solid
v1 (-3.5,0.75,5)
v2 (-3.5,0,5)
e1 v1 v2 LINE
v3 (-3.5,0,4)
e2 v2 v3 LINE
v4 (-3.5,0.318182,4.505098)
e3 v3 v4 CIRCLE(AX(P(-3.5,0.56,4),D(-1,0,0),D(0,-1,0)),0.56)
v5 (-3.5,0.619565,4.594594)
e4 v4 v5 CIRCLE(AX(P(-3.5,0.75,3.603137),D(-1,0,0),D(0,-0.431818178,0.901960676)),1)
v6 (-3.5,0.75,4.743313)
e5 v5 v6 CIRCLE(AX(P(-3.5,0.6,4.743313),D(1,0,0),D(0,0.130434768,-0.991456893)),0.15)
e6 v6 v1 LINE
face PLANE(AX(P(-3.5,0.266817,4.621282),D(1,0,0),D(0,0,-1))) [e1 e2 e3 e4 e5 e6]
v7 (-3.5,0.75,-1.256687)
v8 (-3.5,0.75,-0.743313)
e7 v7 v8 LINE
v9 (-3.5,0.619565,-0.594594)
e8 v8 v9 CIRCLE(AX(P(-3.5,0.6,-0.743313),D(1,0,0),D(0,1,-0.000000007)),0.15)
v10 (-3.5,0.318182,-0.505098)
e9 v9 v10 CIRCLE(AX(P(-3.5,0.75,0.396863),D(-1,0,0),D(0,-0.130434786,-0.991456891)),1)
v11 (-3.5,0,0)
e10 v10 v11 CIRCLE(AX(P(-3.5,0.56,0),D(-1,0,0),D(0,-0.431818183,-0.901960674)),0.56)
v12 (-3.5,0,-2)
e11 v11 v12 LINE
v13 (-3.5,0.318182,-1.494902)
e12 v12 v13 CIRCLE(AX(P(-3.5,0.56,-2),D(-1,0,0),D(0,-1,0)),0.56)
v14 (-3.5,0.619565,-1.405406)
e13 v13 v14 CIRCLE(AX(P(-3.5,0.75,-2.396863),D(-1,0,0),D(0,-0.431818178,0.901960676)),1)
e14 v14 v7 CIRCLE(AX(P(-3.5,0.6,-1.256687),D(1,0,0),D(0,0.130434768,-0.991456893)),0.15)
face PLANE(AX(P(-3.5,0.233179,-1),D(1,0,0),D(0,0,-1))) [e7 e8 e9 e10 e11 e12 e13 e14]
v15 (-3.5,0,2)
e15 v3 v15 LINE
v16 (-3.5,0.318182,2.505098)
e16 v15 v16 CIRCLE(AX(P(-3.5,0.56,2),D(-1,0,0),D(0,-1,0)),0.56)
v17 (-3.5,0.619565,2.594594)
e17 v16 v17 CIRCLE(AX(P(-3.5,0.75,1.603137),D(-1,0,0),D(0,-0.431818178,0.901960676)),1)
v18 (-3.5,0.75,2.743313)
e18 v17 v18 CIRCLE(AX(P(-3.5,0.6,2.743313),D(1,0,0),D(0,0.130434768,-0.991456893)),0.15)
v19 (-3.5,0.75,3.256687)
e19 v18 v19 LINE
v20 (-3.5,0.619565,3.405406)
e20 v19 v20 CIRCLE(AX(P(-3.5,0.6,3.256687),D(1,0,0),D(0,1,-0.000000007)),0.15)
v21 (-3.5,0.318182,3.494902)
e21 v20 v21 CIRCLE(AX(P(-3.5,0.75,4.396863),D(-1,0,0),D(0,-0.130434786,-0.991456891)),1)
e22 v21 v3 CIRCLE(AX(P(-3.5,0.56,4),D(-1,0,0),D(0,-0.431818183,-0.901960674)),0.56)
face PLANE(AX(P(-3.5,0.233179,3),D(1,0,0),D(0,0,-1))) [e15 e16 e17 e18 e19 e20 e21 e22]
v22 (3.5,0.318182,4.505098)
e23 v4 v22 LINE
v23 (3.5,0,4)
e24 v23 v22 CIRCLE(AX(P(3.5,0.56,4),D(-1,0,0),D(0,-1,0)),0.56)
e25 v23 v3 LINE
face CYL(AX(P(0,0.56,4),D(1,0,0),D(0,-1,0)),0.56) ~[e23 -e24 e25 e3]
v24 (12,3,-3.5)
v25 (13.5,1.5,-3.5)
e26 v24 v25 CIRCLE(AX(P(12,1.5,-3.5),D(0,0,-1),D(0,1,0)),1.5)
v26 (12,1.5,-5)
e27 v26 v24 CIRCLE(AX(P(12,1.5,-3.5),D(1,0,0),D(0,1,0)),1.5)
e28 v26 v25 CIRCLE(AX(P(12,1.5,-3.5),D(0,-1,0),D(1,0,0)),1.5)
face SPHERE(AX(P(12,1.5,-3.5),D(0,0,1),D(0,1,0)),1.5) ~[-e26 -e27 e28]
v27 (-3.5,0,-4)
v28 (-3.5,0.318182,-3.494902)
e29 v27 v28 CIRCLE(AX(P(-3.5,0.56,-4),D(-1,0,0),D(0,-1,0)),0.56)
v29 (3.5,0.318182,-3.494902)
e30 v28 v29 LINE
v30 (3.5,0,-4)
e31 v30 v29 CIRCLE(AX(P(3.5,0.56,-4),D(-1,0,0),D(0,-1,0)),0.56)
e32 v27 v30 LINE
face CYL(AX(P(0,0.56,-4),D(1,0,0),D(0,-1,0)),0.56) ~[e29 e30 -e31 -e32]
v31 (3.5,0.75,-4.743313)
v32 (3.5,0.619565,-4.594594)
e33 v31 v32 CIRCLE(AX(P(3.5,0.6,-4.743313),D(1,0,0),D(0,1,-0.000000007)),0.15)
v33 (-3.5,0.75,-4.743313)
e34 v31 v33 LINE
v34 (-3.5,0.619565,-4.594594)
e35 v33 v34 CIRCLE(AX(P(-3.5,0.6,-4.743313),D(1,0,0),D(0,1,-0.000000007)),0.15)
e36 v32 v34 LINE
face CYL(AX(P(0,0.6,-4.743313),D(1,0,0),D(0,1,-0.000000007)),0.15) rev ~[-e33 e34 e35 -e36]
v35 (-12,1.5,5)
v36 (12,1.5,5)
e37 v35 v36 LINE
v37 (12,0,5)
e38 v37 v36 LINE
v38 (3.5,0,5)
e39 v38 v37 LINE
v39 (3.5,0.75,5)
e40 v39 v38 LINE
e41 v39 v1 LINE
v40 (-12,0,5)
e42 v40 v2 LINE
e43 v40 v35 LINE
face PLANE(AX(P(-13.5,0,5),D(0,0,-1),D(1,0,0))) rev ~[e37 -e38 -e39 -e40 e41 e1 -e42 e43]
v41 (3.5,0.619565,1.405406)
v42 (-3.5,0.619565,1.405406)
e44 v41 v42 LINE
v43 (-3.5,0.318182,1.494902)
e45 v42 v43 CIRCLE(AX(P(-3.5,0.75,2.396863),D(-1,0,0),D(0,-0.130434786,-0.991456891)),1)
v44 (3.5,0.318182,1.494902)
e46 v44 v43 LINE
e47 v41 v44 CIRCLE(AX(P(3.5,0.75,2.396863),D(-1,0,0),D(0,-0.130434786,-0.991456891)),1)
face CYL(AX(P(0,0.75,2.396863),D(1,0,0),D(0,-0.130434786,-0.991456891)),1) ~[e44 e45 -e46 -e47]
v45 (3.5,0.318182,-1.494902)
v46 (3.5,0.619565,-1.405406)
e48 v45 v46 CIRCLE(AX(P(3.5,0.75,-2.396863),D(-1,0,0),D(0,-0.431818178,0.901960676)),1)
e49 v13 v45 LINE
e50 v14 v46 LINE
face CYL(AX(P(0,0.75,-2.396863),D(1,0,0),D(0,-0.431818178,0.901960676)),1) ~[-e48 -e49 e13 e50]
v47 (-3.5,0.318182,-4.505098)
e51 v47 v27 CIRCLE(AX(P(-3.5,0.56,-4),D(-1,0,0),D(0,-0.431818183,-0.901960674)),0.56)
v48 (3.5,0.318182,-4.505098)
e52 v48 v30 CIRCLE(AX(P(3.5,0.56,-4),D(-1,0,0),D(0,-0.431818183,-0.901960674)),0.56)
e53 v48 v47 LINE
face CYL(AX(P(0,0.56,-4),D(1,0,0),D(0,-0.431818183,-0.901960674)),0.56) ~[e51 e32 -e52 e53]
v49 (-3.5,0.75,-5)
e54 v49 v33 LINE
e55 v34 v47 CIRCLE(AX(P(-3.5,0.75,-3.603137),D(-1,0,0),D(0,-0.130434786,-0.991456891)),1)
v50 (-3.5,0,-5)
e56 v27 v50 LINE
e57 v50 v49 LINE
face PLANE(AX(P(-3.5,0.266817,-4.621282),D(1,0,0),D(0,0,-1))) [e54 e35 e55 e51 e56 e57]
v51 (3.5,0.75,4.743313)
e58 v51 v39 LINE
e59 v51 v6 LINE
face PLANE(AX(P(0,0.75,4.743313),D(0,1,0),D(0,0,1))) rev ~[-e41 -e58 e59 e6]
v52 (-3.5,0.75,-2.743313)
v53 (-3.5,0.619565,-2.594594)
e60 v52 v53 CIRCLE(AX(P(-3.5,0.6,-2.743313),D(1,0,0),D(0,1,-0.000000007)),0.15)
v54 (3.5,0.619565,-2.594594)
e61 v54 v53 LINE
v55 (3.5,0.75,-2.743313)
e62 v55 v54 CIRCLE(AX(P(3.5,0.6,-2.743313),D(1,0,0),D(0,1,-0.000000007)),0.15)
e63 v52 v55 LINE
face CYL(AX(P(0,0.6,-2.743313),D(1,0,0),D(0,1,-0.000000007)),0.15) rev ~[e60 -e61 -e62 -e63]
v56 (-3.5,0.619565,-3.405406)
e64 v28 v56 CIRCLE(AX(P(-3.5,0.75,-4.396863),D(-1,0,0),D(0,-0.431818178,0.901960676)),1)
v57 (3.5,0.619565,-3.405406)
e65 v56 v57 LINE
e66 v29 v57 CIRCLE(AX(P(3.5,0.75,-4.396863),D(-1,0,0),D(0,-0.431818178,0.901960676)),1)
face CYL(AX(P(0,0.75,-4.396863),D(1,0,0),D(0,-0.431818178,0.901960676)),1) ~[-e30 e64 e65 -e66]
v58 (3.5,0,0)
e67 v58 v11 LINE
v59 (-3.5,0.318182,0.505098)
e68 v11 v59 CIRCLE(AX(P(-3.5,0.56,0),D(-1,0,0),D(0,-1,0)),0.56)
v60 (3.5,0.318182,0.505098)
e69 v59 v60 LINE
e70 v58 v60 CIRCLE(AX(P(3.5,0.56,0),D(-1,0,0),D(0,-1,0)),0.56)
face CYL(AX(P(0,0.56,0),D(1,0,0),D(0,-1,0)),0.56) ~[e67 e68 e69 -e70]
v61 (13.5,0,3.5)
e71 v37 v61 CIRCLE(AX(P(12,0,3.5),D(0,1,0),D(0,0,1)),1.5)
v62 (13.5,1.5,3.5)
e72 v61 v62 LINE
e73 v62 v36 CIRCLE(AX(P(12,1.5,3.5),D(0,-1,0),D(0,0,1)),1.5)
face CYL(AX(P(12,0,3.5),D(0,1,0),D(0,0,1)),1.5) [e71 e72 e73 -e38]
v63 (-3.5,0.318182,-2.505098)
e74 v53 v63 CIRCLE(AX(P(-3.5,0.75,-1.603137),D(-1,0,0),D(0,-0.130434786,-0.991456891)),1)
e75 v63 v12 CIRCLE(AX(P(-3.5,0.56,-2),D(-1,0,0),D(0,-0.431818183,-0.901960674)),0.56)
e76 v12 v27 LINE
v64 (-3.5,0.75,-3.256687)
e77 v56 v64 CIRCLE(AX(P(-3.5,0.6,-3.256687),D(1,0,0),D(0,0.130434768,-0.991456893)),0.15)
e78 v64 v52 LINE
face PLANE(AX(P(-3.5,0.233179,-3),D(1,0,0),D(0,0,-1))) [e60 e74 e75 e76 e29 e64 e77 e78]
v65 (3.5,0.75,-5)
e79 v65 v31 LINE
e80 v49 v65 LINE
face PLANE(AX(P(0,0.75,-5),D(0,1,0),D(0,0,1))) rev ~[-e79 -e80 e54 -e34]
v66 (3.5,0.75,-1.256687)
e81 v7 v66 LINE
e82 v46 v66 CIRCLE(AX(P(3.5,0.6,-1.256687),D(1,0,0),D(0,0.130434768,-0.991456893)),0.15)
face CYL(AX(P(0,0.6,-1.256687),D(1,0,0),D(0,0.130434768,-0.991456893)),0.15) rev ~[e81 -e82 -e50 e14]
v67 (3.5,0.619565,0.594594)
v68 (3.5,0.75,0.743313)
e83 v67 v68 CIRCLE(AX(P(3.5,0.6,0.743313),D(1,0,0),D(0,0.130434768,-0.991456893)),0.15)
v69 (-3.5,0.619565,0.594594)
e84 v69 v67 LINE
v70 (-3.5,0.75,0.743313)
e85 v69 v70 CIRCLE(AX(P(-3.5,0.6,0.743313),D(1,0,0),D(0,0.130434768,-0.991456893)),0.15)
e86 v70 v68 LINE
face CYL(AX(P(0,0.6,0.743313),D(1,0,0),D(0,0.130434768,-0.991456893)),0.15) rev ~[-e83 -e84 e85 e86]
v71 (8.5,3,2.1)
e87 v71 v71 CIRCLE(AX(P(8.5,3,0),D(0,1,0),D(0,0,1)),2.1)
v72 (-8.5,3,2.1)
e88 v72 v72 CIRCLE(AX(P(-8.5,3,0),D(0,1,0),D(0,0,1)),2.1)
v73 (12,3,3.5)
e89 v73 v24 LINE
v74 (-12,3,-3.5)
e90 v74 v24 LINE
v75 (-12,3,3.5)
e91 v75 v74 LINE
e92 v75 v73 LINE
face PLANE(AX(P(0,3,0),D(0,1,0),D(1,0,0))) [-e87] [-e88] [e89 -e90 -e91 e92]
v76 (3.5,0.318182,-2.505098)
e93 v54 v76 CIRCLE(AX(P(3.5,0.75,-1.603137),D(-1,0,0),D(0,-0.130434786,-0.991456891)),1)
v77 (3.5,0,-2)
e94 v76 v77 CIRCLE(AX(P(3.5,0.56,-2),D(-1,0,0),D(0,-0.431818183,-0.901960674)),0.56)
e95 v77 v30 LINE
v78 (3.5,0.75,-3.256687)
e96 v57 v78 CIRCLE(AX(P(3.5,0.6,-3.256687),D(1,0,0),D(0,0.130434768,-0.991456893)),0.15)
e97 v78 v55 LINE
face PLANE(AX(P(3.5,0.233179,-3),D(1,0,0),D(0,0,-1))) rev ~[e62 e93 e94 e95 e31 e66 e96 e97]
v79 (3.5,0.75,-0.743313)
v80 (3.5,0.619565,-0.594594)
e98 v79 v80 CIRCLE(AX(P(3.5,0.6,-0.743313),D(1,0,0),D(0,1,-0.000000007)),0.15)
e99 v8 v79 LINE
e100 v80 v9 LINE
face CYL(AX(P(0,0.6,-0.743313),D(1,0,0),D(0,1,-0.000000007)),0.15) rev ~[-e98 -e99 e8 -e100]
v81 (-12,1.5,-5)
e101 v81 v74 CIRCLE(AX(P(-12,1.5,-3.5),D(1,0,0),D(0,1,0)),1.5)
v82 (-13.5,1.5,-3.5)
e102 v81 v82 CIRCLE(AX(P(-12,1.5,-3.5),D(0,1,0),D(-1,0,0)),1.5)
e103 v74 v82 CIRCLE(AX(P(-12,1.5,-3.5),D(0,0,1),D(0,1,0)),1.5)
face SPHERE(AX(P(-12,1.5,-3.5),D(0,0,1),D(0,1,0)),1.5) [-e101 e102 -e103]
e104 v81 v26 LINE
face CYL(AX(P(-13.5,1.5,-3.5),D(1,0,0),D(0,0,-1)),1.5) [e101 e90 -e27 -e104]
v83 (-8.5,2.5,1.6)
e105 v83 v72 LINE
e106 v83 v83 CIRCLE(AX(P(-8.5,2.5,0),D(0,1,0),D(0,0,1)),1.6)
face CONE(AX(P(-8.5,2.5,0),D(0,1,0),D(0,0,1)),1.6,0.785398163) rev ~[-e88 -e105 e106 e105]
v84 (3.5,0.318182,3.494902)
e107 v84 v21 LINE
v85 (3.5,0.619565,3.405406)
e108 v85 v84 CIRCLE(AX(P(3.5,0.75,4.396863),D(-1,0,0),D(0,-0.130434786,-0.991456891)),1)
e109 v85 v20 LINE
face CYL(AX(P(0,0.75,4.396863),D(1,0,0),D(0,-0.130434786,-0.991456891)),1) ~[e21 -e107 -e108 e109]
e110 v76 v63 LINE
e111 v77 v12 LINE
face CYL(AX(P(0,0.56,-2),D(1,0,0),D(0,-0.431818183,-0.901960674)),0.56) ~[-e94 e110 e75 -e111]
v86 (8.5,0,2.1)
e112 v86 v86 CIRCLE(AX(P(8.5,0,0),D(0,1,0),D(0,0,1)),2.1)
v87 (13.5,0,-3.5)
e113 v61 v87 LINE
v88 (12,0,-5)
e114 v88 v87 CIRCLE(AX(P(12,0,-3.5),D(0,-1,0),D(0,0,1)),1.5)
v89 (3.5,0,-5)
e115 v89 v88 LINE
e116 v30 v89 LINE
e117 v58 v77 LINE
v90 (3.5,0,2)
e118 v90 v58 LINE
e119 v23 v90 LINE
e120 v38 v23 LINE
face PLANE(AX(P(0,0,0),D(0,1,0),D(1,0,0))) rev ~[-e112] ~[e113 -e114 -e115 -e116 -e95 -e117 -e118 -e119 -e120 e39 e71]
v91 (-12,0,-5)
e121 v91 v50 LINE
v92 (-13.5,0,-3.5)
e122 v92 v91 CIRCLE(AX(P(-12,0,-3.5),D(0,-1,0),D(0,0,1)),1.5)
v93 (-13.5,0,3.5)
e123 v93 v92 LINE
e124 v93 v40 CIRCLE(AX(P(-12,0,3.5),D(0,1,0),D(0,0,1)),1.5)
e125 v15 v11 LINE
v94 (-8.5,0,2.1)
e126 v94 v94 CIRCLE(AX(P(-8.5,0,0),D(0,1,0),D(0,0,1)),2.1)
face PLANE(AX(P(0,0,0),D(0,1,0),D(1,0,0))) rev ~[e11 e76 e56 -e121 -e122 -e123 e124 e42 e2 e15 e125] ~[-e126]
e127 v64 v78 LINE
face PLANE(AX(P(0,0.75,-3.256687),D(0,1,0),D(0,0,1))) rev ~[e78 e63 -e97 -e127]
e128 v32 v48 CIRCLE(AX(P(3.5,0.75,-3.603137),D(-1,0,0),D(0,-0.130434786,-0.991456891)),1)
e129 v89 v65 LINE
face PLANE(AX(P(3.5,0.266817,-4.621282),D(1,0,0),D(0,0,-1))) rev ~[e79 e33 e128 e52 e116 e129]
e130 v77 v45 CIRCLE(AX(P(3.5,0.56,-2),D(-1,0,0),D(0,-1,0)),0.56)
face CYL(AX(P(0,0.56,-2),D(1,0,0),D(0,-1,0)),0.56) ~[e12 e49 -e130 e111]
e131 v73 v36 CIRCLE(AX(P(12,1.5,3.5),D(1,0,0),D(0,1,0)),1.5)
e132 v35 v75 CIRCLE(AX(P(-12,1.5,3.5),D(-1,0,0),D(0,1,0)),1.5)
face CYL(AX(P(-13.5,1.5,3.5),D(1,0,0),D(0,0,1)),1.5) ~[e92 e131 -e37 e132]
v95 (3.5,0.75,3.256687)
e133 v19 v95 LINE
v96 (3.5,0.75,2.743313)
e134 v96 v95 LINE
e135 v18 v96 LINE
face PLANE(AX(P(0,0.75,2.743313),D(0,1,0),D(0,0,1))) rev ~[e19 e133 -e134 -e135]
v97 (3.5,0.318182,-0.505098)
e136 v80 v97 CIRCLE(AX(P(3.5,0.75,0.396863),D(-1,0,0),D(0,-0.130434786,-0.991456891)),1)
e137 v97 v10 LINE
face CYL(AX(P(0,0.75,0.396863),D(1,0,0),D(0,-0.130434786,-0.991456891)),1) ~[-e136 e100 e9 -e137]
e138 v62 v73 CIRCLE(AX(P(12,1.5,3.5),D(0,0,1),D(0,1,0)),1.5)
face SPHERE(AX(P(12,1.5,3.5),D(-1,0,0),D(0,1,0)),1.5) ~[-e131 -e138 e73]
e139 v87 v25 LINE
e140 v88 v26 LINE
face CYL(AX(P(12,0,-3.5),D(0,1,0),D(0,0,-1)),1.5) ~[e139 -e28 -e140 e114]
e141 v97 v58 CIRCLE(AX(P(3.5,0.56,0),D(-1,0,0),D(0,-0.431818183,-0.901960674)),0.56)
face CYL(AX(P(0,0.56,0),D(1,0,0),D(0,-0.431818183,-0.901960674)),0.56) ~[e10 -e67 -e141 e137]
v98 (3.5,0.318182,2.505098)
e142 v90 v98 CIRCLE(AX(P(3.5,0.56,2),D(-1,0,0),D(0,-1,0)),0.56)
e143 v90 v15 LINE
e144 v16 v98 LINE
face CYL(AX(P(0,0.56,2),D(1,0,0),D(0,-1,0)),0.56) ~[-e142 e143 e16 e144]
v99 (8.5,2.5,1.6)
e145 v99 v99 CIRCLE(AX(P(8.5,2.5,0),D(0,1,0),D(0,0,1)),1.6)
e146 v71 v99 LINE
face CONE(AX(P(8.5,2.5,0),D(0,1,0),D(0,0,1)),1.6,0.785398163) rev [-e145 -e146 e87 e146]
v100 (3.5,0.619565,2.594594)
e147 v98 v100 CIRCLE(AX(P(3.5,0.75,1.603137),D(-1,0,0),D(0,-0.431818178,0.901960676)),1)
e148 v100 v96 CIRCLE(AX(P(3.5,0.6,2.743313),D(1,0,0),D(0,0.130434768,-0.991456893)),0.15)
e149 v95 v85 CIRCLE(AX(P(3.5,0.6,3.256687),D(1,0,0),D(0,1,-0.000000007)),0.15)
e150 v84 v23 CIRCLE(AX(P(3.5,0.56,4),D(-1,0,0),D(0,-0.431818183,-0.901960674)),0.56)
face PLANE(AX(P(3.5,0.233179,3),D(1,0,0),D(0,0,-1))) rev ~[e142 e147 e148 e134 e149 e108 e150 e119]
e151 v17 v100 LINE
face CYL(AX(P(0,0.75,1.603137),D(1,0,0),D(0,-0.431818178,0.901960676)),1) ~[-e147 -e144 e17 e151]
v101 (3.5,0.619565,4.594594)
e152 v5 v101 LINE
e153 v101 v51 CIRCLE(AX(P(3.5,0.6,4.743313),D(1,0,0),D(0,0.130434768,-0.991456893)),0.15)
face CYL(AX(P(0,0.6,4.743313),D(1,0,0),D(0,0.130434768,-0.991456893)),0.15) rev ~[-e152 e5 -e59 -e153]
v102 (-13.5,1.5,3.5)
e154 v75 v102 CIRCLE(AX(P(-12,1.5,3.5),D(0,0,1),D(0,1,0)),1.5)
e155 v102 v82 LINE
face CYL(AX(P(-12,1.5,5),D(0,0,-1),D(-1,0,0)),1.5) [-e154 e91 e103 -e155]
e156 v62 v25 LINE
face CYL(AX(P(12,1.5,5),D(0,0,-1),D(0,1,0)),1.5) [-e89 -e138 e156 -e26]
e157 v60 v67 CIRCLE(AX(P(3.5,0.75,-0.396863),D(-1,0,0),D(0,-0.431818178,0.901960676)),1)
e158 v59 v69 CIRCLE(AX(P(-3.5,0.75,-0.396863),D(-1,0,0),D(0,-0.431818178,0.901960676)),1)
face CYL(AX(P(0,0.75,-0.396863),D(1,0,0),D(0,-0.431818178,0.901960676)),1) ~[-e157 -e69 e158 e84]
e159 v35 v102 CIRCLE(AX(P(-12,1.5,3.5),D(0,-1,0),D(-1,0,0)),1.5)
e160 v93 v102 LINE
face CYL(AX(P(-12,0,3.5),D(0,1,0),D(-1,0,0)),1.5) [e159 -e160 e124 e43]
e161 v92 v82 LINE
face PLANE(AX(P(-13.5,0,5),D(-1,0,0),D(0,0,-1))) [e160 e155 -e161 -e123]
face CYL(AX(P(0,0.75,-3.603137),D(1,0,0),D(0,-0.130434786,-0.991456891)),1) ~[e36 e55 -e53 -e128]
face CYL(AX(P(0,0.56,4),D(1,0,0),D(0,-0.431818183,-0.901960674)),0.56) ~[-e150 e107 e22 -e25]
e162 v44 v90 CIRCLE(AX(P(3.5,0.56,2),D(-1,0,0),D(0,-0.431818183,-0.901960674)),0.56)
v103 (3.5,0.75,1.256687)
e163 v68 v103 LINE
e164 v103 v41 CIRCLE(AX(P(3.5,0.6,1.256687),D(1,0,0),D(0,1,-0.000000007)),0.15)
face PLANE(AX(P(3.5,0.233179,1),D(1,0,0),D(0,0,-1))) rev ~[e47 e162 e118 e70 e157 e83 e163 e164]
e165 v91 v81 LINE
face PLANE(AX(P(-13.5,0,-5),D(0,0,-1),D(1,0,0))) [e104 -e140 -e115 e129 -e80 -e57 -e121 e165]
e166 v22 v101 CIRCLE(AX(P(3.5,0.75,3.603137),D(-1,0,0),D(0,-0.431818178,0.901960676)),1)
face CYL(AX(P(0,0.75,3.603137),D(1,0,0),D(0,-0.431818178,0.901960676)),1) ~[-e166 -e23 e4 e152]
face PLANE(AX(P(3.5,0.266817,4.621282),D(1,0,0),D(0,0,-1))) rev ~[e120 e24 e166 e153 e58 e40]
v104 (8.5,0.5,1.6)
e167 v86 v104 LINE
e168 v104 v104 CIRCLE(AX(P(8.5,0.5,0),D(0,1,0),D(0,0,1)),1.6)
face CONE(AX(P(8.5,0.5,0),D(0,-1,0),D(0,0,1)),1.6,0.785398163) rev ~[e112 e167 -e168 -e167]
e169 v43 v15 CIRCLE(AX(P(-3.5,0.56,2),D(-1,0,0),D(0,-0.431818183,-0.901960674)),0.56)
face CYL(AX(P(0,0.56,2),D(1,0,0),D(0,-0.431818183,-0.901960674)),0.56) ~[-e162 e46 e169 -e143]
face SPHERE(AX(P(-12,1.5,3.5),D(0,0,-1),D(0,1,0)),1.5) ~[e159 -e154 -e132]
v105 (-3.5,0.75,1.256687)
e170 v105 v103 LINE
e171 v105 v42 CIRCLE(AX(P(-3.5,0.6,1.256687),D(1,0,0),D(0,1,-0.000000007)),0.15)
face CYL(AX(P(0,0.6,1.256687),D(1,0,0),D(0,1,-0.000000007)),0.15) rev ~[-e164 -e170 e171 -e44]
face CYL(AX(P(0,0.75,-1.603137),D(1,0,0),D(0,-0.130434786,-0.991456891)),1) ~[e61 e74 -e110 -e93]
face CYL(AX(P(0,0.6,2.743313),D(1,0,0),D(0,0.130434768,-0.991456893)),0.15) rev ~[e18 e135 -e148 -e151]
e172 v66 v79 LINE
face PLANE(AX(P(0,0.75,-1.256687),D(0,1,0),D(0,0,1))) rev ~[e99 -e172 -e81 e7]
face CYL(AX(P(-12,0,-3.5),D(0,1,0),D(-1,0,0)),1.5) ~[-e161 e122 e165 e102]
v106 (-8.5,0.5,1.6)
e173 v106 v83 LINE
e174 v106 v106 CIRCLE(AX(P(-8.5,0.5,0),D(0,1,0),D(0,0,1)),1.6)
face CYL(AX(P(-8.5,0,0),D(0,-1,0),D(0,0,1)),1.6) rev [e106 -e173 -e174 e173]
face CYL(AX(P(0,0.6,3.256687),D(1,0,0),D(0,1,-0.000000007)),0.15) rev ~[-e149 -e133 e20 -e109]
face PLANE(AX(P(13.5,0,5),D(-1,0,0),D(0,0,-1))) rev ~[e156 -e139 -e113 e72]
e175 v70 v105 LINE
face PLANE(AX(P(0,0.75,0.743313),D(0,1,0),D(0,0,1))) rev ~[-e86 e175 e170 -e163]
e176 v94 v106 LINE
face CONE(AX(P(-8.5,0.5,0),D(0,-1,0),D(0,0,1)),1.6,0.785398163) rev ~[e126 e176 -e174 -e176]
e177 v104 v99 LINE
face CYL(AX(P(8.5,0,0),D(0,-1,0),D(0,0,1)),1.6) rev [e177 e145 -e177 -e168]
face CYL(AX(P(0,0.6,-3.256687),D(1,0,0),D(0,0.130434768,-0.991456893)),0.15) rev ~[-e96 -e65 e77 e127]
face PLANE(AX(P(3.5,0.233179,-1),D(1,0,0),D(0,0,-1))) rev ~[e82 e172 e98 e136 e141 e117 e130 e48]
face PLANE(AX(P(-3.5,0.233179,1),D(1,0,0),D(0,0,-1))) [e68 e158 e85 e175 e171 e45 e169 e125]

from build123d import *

# Parameters (mm, degrees)
SKETCH_1_W          = 27
SKETCH_1_H          = 10
SKETCH_1_R          = 1.6
EXTRUDE_1_DEPTH     = 3
CUT_EXTRUDE_1_DEPTH = 3.5
FILLET_1_R          = 1.5
CHAMFER_1_SIZE      = 0.5


with BuildPart() as part:
    # Эскиз1 → Бобышка-Вытянуть1 (new body)
    with BuildSketch(Plane(origin=(0, 0, 0), x_dir=(1, 0, 0), z_dir=(0, 1, 0))):
        Rectangle(SKETCH_1_W, SKETCH_1_H)
        with Locations(Location((-8.5, 0, 0), (0, 0, 270))):
            Circle(SKETCH_1_R, mode=Mode.SUBTRACT)
        with Locations(Location((8.5, 0, 0), (0, 0, 270))):
            Circle(SKETCH_1_R, mode=Mode.SUBTRACT)
    extrude(amount=EXTRUDE_1_DEPTH)

    # Эскиз2 → Вырез-Вытянуть1 (cut, symmetric)
    with BuildSketch(Plane(origin=(0, 0, 0), x_dir=(0, 0, -1), z_dir=(1, 0, 0))):
        with BuildLine():
            ThreePointArc((-3.494902022, 0.318181818), (-3.701518997, 0.086176097), (-4, 0))
            Line((-4, 0), (-2, 0))
            ThreePointArc((-2, 0), (-2.298481003, 0.086176097), (-2.505097978, 0.318181818))
            ThreePointArc((-2.505097978, 0.318181818), (-2.56176419, 0.46533442), (-2.594594195, 0.619565217))
            ThreePointArc((-2.594594195, 0.619565217), (-2.644405657, 0.712771412), (-2.743312728, 0.75))
            Line((-2.743312728, 0.75), (-3.256687272, 0.75))
            ThreePointArc((-3.256687272, 0.75), (-3.355594343, 0.712771412), (-3.405405805, 0.619565217))
            ThreePointArc((-3.405405805, 0.619565217), (-3.43823581, 0.46533442), (-3.494902022, 0.318181818))
        make_face()
        with BuildLine():
            ThreePointArc((-4.594594195, 0.619565217), (-4.644405657, 0.712771412), (-4.743312728, 0.75))
            Line((-4.743312728, 0.75), (-5, 0.75))
            Line((-5, 0.75), (-5, 0))
            Line((-5, 0), (-4, 0))
            ThreePointArc((-4, 0), (-4.298481003, 0.086176097), (-4.505097978, 0.318181818))
            ThreePointArc((-4.505097978, 0.318181818), (-4.56176419, 0.46533442), (-4.594594195, 0.619565217))
        make_face()
        with BuildLine():
            ThreePointArc((-1.494902022, 0.318181818), (-1.701518997, 0.086176097), (-2, 0))
            Line((-2, 0), (0, 0))
            ThreePointArc((0, 0), (-0.298481003, 0.086176097), (-0.505097978, 0.318181818))
            ThreePointArc((-0.505097978, 0.318181818), (-0.56176419, 0.46533442), (-0.594594195, 0.619565217))
            ThreePointArc((-0.594594195, 0.619565217), (-0.644405657, 0.712771412), (-0.743312728, 0.75))
            Line((-0.743312728, 0.75), (-1.256687272, 0.75))
            ThreePointArc((-1.256687272, 0.75), (-1.355594343, 0.712771412), (-1.405405805, 0.619565217))
            ThreePointArc((-1.405405805, 0.619565217), (-1.43823581, 0.46533442), (-1.494902022, 0.318181818))
        make_face()
        with BuildLine():
            ThreePointArc((0.505097978, 0.318181818), (0.298481003, 0.086176097), (0, 0))
            Line((0, 0), (2, 0))
            ThreePointArc((2, 0), (1.701518997, 0.086176097), (1.494902022, 0.318181818))
            ThreePointArc((1.494902022, 0.318181818), (1.43823581, 0.46533442), (1.405405805, 0.619565217))
            ThreePointArc((1.405405805, 0.619565217), (1.355594343, 0.712771412), (1.256687272, 0.75))
            Line((1.256687272, 0.75), (0.743312728, 0.75))
            ThreePointArc((0.743312728, 0.75), (0.644405657, 0.712771412), (0.594594195, 0.619565217))
            ThreePointArc((0.594594195, 0.619565217), (0.56176419, 0.46533442), (0.505097978, 0.318181818))
        make_face()
        with BuildLine():
            ThreePointArc((2.505097978, 0.318181818), (2.298481003, 0.086176097), (2, 0))
            Line((2, 0), (4, 0))
            ThreePointArc((4, 0), (3.701518997, 0.086176097), (3.494902022, 0.318181818))
            ThreePointArc((3.494902022, 0.318181818), (3.43823581, 0.46533442), (3.405405805, 0.619565217))
            ThreePointArc((3.405405805, 0.619565217), (3.355594343, 0.712771412), (3.256687272, 0.75))
            Line((3.256687272, 0.75), (2.743312728, 0.75))
            ThreePointArc((2.743312728, 0.75), (2.644405657, 0.712771412), (2.594594195, 0.619565217))
            ThreePointArc((2.594594195, 0.619565217), (2.56176419, 0.46533442), (2.505097978, 0.318181818))
        make_face()
        with BuildLine():
            ThreePointArc((4.505097978, 0.318181818), (4.298481003, 0.086176097), (4, 0))
            Line((4, 0), (5, 0))
            Line((5, 0), (5, 0.75))
            Line((5, 0.75), (4.743312728, 0.75))
            ThreePointArc((4.743312728, 0.75), (4.644405657, 0.712771412), (4.594594195, 0.619565217))
            ThreePointArc((4.594594195, 0.619565217), (4.56176419, 0.46533442), (4.505097978, 0.318181818))
        make_face()
    extrude(amount=CUT_EXTRUDE_1_DEPTH, both=True, mode=Mode.SUBTRACT)

    # Скругление1
    fillet_1_edges = [part.edges().sort_by_distance(p)[0] for p in [
        (-13.5, 3, 0),
        (0, 3, 5),
        (13.5, 3, 0),
        (0, 3, -5),
        (13.5, 1.5, 5),
        (-13.5, 1.5, 5),
        (-13.5, 1.5, -5),
        (13.5, 1.5, -5),
    ]]
    fillet(fillet_1_edges, radius=FILLET_1_R)

    # Фаска1
    chamfer_1_edges = [part.edges().sort_by_distance(p)[0] for p in [
        (-8.5, 0, -1.6),
        (-8.5, 3, -1.6),
        (8.5, 0, -1.6),
        (8.5, 3, -1.6),
    ]]
    chamfer(chamfer_1_edges, length=CHAMFER_1_SIZE)


solid = part.part
